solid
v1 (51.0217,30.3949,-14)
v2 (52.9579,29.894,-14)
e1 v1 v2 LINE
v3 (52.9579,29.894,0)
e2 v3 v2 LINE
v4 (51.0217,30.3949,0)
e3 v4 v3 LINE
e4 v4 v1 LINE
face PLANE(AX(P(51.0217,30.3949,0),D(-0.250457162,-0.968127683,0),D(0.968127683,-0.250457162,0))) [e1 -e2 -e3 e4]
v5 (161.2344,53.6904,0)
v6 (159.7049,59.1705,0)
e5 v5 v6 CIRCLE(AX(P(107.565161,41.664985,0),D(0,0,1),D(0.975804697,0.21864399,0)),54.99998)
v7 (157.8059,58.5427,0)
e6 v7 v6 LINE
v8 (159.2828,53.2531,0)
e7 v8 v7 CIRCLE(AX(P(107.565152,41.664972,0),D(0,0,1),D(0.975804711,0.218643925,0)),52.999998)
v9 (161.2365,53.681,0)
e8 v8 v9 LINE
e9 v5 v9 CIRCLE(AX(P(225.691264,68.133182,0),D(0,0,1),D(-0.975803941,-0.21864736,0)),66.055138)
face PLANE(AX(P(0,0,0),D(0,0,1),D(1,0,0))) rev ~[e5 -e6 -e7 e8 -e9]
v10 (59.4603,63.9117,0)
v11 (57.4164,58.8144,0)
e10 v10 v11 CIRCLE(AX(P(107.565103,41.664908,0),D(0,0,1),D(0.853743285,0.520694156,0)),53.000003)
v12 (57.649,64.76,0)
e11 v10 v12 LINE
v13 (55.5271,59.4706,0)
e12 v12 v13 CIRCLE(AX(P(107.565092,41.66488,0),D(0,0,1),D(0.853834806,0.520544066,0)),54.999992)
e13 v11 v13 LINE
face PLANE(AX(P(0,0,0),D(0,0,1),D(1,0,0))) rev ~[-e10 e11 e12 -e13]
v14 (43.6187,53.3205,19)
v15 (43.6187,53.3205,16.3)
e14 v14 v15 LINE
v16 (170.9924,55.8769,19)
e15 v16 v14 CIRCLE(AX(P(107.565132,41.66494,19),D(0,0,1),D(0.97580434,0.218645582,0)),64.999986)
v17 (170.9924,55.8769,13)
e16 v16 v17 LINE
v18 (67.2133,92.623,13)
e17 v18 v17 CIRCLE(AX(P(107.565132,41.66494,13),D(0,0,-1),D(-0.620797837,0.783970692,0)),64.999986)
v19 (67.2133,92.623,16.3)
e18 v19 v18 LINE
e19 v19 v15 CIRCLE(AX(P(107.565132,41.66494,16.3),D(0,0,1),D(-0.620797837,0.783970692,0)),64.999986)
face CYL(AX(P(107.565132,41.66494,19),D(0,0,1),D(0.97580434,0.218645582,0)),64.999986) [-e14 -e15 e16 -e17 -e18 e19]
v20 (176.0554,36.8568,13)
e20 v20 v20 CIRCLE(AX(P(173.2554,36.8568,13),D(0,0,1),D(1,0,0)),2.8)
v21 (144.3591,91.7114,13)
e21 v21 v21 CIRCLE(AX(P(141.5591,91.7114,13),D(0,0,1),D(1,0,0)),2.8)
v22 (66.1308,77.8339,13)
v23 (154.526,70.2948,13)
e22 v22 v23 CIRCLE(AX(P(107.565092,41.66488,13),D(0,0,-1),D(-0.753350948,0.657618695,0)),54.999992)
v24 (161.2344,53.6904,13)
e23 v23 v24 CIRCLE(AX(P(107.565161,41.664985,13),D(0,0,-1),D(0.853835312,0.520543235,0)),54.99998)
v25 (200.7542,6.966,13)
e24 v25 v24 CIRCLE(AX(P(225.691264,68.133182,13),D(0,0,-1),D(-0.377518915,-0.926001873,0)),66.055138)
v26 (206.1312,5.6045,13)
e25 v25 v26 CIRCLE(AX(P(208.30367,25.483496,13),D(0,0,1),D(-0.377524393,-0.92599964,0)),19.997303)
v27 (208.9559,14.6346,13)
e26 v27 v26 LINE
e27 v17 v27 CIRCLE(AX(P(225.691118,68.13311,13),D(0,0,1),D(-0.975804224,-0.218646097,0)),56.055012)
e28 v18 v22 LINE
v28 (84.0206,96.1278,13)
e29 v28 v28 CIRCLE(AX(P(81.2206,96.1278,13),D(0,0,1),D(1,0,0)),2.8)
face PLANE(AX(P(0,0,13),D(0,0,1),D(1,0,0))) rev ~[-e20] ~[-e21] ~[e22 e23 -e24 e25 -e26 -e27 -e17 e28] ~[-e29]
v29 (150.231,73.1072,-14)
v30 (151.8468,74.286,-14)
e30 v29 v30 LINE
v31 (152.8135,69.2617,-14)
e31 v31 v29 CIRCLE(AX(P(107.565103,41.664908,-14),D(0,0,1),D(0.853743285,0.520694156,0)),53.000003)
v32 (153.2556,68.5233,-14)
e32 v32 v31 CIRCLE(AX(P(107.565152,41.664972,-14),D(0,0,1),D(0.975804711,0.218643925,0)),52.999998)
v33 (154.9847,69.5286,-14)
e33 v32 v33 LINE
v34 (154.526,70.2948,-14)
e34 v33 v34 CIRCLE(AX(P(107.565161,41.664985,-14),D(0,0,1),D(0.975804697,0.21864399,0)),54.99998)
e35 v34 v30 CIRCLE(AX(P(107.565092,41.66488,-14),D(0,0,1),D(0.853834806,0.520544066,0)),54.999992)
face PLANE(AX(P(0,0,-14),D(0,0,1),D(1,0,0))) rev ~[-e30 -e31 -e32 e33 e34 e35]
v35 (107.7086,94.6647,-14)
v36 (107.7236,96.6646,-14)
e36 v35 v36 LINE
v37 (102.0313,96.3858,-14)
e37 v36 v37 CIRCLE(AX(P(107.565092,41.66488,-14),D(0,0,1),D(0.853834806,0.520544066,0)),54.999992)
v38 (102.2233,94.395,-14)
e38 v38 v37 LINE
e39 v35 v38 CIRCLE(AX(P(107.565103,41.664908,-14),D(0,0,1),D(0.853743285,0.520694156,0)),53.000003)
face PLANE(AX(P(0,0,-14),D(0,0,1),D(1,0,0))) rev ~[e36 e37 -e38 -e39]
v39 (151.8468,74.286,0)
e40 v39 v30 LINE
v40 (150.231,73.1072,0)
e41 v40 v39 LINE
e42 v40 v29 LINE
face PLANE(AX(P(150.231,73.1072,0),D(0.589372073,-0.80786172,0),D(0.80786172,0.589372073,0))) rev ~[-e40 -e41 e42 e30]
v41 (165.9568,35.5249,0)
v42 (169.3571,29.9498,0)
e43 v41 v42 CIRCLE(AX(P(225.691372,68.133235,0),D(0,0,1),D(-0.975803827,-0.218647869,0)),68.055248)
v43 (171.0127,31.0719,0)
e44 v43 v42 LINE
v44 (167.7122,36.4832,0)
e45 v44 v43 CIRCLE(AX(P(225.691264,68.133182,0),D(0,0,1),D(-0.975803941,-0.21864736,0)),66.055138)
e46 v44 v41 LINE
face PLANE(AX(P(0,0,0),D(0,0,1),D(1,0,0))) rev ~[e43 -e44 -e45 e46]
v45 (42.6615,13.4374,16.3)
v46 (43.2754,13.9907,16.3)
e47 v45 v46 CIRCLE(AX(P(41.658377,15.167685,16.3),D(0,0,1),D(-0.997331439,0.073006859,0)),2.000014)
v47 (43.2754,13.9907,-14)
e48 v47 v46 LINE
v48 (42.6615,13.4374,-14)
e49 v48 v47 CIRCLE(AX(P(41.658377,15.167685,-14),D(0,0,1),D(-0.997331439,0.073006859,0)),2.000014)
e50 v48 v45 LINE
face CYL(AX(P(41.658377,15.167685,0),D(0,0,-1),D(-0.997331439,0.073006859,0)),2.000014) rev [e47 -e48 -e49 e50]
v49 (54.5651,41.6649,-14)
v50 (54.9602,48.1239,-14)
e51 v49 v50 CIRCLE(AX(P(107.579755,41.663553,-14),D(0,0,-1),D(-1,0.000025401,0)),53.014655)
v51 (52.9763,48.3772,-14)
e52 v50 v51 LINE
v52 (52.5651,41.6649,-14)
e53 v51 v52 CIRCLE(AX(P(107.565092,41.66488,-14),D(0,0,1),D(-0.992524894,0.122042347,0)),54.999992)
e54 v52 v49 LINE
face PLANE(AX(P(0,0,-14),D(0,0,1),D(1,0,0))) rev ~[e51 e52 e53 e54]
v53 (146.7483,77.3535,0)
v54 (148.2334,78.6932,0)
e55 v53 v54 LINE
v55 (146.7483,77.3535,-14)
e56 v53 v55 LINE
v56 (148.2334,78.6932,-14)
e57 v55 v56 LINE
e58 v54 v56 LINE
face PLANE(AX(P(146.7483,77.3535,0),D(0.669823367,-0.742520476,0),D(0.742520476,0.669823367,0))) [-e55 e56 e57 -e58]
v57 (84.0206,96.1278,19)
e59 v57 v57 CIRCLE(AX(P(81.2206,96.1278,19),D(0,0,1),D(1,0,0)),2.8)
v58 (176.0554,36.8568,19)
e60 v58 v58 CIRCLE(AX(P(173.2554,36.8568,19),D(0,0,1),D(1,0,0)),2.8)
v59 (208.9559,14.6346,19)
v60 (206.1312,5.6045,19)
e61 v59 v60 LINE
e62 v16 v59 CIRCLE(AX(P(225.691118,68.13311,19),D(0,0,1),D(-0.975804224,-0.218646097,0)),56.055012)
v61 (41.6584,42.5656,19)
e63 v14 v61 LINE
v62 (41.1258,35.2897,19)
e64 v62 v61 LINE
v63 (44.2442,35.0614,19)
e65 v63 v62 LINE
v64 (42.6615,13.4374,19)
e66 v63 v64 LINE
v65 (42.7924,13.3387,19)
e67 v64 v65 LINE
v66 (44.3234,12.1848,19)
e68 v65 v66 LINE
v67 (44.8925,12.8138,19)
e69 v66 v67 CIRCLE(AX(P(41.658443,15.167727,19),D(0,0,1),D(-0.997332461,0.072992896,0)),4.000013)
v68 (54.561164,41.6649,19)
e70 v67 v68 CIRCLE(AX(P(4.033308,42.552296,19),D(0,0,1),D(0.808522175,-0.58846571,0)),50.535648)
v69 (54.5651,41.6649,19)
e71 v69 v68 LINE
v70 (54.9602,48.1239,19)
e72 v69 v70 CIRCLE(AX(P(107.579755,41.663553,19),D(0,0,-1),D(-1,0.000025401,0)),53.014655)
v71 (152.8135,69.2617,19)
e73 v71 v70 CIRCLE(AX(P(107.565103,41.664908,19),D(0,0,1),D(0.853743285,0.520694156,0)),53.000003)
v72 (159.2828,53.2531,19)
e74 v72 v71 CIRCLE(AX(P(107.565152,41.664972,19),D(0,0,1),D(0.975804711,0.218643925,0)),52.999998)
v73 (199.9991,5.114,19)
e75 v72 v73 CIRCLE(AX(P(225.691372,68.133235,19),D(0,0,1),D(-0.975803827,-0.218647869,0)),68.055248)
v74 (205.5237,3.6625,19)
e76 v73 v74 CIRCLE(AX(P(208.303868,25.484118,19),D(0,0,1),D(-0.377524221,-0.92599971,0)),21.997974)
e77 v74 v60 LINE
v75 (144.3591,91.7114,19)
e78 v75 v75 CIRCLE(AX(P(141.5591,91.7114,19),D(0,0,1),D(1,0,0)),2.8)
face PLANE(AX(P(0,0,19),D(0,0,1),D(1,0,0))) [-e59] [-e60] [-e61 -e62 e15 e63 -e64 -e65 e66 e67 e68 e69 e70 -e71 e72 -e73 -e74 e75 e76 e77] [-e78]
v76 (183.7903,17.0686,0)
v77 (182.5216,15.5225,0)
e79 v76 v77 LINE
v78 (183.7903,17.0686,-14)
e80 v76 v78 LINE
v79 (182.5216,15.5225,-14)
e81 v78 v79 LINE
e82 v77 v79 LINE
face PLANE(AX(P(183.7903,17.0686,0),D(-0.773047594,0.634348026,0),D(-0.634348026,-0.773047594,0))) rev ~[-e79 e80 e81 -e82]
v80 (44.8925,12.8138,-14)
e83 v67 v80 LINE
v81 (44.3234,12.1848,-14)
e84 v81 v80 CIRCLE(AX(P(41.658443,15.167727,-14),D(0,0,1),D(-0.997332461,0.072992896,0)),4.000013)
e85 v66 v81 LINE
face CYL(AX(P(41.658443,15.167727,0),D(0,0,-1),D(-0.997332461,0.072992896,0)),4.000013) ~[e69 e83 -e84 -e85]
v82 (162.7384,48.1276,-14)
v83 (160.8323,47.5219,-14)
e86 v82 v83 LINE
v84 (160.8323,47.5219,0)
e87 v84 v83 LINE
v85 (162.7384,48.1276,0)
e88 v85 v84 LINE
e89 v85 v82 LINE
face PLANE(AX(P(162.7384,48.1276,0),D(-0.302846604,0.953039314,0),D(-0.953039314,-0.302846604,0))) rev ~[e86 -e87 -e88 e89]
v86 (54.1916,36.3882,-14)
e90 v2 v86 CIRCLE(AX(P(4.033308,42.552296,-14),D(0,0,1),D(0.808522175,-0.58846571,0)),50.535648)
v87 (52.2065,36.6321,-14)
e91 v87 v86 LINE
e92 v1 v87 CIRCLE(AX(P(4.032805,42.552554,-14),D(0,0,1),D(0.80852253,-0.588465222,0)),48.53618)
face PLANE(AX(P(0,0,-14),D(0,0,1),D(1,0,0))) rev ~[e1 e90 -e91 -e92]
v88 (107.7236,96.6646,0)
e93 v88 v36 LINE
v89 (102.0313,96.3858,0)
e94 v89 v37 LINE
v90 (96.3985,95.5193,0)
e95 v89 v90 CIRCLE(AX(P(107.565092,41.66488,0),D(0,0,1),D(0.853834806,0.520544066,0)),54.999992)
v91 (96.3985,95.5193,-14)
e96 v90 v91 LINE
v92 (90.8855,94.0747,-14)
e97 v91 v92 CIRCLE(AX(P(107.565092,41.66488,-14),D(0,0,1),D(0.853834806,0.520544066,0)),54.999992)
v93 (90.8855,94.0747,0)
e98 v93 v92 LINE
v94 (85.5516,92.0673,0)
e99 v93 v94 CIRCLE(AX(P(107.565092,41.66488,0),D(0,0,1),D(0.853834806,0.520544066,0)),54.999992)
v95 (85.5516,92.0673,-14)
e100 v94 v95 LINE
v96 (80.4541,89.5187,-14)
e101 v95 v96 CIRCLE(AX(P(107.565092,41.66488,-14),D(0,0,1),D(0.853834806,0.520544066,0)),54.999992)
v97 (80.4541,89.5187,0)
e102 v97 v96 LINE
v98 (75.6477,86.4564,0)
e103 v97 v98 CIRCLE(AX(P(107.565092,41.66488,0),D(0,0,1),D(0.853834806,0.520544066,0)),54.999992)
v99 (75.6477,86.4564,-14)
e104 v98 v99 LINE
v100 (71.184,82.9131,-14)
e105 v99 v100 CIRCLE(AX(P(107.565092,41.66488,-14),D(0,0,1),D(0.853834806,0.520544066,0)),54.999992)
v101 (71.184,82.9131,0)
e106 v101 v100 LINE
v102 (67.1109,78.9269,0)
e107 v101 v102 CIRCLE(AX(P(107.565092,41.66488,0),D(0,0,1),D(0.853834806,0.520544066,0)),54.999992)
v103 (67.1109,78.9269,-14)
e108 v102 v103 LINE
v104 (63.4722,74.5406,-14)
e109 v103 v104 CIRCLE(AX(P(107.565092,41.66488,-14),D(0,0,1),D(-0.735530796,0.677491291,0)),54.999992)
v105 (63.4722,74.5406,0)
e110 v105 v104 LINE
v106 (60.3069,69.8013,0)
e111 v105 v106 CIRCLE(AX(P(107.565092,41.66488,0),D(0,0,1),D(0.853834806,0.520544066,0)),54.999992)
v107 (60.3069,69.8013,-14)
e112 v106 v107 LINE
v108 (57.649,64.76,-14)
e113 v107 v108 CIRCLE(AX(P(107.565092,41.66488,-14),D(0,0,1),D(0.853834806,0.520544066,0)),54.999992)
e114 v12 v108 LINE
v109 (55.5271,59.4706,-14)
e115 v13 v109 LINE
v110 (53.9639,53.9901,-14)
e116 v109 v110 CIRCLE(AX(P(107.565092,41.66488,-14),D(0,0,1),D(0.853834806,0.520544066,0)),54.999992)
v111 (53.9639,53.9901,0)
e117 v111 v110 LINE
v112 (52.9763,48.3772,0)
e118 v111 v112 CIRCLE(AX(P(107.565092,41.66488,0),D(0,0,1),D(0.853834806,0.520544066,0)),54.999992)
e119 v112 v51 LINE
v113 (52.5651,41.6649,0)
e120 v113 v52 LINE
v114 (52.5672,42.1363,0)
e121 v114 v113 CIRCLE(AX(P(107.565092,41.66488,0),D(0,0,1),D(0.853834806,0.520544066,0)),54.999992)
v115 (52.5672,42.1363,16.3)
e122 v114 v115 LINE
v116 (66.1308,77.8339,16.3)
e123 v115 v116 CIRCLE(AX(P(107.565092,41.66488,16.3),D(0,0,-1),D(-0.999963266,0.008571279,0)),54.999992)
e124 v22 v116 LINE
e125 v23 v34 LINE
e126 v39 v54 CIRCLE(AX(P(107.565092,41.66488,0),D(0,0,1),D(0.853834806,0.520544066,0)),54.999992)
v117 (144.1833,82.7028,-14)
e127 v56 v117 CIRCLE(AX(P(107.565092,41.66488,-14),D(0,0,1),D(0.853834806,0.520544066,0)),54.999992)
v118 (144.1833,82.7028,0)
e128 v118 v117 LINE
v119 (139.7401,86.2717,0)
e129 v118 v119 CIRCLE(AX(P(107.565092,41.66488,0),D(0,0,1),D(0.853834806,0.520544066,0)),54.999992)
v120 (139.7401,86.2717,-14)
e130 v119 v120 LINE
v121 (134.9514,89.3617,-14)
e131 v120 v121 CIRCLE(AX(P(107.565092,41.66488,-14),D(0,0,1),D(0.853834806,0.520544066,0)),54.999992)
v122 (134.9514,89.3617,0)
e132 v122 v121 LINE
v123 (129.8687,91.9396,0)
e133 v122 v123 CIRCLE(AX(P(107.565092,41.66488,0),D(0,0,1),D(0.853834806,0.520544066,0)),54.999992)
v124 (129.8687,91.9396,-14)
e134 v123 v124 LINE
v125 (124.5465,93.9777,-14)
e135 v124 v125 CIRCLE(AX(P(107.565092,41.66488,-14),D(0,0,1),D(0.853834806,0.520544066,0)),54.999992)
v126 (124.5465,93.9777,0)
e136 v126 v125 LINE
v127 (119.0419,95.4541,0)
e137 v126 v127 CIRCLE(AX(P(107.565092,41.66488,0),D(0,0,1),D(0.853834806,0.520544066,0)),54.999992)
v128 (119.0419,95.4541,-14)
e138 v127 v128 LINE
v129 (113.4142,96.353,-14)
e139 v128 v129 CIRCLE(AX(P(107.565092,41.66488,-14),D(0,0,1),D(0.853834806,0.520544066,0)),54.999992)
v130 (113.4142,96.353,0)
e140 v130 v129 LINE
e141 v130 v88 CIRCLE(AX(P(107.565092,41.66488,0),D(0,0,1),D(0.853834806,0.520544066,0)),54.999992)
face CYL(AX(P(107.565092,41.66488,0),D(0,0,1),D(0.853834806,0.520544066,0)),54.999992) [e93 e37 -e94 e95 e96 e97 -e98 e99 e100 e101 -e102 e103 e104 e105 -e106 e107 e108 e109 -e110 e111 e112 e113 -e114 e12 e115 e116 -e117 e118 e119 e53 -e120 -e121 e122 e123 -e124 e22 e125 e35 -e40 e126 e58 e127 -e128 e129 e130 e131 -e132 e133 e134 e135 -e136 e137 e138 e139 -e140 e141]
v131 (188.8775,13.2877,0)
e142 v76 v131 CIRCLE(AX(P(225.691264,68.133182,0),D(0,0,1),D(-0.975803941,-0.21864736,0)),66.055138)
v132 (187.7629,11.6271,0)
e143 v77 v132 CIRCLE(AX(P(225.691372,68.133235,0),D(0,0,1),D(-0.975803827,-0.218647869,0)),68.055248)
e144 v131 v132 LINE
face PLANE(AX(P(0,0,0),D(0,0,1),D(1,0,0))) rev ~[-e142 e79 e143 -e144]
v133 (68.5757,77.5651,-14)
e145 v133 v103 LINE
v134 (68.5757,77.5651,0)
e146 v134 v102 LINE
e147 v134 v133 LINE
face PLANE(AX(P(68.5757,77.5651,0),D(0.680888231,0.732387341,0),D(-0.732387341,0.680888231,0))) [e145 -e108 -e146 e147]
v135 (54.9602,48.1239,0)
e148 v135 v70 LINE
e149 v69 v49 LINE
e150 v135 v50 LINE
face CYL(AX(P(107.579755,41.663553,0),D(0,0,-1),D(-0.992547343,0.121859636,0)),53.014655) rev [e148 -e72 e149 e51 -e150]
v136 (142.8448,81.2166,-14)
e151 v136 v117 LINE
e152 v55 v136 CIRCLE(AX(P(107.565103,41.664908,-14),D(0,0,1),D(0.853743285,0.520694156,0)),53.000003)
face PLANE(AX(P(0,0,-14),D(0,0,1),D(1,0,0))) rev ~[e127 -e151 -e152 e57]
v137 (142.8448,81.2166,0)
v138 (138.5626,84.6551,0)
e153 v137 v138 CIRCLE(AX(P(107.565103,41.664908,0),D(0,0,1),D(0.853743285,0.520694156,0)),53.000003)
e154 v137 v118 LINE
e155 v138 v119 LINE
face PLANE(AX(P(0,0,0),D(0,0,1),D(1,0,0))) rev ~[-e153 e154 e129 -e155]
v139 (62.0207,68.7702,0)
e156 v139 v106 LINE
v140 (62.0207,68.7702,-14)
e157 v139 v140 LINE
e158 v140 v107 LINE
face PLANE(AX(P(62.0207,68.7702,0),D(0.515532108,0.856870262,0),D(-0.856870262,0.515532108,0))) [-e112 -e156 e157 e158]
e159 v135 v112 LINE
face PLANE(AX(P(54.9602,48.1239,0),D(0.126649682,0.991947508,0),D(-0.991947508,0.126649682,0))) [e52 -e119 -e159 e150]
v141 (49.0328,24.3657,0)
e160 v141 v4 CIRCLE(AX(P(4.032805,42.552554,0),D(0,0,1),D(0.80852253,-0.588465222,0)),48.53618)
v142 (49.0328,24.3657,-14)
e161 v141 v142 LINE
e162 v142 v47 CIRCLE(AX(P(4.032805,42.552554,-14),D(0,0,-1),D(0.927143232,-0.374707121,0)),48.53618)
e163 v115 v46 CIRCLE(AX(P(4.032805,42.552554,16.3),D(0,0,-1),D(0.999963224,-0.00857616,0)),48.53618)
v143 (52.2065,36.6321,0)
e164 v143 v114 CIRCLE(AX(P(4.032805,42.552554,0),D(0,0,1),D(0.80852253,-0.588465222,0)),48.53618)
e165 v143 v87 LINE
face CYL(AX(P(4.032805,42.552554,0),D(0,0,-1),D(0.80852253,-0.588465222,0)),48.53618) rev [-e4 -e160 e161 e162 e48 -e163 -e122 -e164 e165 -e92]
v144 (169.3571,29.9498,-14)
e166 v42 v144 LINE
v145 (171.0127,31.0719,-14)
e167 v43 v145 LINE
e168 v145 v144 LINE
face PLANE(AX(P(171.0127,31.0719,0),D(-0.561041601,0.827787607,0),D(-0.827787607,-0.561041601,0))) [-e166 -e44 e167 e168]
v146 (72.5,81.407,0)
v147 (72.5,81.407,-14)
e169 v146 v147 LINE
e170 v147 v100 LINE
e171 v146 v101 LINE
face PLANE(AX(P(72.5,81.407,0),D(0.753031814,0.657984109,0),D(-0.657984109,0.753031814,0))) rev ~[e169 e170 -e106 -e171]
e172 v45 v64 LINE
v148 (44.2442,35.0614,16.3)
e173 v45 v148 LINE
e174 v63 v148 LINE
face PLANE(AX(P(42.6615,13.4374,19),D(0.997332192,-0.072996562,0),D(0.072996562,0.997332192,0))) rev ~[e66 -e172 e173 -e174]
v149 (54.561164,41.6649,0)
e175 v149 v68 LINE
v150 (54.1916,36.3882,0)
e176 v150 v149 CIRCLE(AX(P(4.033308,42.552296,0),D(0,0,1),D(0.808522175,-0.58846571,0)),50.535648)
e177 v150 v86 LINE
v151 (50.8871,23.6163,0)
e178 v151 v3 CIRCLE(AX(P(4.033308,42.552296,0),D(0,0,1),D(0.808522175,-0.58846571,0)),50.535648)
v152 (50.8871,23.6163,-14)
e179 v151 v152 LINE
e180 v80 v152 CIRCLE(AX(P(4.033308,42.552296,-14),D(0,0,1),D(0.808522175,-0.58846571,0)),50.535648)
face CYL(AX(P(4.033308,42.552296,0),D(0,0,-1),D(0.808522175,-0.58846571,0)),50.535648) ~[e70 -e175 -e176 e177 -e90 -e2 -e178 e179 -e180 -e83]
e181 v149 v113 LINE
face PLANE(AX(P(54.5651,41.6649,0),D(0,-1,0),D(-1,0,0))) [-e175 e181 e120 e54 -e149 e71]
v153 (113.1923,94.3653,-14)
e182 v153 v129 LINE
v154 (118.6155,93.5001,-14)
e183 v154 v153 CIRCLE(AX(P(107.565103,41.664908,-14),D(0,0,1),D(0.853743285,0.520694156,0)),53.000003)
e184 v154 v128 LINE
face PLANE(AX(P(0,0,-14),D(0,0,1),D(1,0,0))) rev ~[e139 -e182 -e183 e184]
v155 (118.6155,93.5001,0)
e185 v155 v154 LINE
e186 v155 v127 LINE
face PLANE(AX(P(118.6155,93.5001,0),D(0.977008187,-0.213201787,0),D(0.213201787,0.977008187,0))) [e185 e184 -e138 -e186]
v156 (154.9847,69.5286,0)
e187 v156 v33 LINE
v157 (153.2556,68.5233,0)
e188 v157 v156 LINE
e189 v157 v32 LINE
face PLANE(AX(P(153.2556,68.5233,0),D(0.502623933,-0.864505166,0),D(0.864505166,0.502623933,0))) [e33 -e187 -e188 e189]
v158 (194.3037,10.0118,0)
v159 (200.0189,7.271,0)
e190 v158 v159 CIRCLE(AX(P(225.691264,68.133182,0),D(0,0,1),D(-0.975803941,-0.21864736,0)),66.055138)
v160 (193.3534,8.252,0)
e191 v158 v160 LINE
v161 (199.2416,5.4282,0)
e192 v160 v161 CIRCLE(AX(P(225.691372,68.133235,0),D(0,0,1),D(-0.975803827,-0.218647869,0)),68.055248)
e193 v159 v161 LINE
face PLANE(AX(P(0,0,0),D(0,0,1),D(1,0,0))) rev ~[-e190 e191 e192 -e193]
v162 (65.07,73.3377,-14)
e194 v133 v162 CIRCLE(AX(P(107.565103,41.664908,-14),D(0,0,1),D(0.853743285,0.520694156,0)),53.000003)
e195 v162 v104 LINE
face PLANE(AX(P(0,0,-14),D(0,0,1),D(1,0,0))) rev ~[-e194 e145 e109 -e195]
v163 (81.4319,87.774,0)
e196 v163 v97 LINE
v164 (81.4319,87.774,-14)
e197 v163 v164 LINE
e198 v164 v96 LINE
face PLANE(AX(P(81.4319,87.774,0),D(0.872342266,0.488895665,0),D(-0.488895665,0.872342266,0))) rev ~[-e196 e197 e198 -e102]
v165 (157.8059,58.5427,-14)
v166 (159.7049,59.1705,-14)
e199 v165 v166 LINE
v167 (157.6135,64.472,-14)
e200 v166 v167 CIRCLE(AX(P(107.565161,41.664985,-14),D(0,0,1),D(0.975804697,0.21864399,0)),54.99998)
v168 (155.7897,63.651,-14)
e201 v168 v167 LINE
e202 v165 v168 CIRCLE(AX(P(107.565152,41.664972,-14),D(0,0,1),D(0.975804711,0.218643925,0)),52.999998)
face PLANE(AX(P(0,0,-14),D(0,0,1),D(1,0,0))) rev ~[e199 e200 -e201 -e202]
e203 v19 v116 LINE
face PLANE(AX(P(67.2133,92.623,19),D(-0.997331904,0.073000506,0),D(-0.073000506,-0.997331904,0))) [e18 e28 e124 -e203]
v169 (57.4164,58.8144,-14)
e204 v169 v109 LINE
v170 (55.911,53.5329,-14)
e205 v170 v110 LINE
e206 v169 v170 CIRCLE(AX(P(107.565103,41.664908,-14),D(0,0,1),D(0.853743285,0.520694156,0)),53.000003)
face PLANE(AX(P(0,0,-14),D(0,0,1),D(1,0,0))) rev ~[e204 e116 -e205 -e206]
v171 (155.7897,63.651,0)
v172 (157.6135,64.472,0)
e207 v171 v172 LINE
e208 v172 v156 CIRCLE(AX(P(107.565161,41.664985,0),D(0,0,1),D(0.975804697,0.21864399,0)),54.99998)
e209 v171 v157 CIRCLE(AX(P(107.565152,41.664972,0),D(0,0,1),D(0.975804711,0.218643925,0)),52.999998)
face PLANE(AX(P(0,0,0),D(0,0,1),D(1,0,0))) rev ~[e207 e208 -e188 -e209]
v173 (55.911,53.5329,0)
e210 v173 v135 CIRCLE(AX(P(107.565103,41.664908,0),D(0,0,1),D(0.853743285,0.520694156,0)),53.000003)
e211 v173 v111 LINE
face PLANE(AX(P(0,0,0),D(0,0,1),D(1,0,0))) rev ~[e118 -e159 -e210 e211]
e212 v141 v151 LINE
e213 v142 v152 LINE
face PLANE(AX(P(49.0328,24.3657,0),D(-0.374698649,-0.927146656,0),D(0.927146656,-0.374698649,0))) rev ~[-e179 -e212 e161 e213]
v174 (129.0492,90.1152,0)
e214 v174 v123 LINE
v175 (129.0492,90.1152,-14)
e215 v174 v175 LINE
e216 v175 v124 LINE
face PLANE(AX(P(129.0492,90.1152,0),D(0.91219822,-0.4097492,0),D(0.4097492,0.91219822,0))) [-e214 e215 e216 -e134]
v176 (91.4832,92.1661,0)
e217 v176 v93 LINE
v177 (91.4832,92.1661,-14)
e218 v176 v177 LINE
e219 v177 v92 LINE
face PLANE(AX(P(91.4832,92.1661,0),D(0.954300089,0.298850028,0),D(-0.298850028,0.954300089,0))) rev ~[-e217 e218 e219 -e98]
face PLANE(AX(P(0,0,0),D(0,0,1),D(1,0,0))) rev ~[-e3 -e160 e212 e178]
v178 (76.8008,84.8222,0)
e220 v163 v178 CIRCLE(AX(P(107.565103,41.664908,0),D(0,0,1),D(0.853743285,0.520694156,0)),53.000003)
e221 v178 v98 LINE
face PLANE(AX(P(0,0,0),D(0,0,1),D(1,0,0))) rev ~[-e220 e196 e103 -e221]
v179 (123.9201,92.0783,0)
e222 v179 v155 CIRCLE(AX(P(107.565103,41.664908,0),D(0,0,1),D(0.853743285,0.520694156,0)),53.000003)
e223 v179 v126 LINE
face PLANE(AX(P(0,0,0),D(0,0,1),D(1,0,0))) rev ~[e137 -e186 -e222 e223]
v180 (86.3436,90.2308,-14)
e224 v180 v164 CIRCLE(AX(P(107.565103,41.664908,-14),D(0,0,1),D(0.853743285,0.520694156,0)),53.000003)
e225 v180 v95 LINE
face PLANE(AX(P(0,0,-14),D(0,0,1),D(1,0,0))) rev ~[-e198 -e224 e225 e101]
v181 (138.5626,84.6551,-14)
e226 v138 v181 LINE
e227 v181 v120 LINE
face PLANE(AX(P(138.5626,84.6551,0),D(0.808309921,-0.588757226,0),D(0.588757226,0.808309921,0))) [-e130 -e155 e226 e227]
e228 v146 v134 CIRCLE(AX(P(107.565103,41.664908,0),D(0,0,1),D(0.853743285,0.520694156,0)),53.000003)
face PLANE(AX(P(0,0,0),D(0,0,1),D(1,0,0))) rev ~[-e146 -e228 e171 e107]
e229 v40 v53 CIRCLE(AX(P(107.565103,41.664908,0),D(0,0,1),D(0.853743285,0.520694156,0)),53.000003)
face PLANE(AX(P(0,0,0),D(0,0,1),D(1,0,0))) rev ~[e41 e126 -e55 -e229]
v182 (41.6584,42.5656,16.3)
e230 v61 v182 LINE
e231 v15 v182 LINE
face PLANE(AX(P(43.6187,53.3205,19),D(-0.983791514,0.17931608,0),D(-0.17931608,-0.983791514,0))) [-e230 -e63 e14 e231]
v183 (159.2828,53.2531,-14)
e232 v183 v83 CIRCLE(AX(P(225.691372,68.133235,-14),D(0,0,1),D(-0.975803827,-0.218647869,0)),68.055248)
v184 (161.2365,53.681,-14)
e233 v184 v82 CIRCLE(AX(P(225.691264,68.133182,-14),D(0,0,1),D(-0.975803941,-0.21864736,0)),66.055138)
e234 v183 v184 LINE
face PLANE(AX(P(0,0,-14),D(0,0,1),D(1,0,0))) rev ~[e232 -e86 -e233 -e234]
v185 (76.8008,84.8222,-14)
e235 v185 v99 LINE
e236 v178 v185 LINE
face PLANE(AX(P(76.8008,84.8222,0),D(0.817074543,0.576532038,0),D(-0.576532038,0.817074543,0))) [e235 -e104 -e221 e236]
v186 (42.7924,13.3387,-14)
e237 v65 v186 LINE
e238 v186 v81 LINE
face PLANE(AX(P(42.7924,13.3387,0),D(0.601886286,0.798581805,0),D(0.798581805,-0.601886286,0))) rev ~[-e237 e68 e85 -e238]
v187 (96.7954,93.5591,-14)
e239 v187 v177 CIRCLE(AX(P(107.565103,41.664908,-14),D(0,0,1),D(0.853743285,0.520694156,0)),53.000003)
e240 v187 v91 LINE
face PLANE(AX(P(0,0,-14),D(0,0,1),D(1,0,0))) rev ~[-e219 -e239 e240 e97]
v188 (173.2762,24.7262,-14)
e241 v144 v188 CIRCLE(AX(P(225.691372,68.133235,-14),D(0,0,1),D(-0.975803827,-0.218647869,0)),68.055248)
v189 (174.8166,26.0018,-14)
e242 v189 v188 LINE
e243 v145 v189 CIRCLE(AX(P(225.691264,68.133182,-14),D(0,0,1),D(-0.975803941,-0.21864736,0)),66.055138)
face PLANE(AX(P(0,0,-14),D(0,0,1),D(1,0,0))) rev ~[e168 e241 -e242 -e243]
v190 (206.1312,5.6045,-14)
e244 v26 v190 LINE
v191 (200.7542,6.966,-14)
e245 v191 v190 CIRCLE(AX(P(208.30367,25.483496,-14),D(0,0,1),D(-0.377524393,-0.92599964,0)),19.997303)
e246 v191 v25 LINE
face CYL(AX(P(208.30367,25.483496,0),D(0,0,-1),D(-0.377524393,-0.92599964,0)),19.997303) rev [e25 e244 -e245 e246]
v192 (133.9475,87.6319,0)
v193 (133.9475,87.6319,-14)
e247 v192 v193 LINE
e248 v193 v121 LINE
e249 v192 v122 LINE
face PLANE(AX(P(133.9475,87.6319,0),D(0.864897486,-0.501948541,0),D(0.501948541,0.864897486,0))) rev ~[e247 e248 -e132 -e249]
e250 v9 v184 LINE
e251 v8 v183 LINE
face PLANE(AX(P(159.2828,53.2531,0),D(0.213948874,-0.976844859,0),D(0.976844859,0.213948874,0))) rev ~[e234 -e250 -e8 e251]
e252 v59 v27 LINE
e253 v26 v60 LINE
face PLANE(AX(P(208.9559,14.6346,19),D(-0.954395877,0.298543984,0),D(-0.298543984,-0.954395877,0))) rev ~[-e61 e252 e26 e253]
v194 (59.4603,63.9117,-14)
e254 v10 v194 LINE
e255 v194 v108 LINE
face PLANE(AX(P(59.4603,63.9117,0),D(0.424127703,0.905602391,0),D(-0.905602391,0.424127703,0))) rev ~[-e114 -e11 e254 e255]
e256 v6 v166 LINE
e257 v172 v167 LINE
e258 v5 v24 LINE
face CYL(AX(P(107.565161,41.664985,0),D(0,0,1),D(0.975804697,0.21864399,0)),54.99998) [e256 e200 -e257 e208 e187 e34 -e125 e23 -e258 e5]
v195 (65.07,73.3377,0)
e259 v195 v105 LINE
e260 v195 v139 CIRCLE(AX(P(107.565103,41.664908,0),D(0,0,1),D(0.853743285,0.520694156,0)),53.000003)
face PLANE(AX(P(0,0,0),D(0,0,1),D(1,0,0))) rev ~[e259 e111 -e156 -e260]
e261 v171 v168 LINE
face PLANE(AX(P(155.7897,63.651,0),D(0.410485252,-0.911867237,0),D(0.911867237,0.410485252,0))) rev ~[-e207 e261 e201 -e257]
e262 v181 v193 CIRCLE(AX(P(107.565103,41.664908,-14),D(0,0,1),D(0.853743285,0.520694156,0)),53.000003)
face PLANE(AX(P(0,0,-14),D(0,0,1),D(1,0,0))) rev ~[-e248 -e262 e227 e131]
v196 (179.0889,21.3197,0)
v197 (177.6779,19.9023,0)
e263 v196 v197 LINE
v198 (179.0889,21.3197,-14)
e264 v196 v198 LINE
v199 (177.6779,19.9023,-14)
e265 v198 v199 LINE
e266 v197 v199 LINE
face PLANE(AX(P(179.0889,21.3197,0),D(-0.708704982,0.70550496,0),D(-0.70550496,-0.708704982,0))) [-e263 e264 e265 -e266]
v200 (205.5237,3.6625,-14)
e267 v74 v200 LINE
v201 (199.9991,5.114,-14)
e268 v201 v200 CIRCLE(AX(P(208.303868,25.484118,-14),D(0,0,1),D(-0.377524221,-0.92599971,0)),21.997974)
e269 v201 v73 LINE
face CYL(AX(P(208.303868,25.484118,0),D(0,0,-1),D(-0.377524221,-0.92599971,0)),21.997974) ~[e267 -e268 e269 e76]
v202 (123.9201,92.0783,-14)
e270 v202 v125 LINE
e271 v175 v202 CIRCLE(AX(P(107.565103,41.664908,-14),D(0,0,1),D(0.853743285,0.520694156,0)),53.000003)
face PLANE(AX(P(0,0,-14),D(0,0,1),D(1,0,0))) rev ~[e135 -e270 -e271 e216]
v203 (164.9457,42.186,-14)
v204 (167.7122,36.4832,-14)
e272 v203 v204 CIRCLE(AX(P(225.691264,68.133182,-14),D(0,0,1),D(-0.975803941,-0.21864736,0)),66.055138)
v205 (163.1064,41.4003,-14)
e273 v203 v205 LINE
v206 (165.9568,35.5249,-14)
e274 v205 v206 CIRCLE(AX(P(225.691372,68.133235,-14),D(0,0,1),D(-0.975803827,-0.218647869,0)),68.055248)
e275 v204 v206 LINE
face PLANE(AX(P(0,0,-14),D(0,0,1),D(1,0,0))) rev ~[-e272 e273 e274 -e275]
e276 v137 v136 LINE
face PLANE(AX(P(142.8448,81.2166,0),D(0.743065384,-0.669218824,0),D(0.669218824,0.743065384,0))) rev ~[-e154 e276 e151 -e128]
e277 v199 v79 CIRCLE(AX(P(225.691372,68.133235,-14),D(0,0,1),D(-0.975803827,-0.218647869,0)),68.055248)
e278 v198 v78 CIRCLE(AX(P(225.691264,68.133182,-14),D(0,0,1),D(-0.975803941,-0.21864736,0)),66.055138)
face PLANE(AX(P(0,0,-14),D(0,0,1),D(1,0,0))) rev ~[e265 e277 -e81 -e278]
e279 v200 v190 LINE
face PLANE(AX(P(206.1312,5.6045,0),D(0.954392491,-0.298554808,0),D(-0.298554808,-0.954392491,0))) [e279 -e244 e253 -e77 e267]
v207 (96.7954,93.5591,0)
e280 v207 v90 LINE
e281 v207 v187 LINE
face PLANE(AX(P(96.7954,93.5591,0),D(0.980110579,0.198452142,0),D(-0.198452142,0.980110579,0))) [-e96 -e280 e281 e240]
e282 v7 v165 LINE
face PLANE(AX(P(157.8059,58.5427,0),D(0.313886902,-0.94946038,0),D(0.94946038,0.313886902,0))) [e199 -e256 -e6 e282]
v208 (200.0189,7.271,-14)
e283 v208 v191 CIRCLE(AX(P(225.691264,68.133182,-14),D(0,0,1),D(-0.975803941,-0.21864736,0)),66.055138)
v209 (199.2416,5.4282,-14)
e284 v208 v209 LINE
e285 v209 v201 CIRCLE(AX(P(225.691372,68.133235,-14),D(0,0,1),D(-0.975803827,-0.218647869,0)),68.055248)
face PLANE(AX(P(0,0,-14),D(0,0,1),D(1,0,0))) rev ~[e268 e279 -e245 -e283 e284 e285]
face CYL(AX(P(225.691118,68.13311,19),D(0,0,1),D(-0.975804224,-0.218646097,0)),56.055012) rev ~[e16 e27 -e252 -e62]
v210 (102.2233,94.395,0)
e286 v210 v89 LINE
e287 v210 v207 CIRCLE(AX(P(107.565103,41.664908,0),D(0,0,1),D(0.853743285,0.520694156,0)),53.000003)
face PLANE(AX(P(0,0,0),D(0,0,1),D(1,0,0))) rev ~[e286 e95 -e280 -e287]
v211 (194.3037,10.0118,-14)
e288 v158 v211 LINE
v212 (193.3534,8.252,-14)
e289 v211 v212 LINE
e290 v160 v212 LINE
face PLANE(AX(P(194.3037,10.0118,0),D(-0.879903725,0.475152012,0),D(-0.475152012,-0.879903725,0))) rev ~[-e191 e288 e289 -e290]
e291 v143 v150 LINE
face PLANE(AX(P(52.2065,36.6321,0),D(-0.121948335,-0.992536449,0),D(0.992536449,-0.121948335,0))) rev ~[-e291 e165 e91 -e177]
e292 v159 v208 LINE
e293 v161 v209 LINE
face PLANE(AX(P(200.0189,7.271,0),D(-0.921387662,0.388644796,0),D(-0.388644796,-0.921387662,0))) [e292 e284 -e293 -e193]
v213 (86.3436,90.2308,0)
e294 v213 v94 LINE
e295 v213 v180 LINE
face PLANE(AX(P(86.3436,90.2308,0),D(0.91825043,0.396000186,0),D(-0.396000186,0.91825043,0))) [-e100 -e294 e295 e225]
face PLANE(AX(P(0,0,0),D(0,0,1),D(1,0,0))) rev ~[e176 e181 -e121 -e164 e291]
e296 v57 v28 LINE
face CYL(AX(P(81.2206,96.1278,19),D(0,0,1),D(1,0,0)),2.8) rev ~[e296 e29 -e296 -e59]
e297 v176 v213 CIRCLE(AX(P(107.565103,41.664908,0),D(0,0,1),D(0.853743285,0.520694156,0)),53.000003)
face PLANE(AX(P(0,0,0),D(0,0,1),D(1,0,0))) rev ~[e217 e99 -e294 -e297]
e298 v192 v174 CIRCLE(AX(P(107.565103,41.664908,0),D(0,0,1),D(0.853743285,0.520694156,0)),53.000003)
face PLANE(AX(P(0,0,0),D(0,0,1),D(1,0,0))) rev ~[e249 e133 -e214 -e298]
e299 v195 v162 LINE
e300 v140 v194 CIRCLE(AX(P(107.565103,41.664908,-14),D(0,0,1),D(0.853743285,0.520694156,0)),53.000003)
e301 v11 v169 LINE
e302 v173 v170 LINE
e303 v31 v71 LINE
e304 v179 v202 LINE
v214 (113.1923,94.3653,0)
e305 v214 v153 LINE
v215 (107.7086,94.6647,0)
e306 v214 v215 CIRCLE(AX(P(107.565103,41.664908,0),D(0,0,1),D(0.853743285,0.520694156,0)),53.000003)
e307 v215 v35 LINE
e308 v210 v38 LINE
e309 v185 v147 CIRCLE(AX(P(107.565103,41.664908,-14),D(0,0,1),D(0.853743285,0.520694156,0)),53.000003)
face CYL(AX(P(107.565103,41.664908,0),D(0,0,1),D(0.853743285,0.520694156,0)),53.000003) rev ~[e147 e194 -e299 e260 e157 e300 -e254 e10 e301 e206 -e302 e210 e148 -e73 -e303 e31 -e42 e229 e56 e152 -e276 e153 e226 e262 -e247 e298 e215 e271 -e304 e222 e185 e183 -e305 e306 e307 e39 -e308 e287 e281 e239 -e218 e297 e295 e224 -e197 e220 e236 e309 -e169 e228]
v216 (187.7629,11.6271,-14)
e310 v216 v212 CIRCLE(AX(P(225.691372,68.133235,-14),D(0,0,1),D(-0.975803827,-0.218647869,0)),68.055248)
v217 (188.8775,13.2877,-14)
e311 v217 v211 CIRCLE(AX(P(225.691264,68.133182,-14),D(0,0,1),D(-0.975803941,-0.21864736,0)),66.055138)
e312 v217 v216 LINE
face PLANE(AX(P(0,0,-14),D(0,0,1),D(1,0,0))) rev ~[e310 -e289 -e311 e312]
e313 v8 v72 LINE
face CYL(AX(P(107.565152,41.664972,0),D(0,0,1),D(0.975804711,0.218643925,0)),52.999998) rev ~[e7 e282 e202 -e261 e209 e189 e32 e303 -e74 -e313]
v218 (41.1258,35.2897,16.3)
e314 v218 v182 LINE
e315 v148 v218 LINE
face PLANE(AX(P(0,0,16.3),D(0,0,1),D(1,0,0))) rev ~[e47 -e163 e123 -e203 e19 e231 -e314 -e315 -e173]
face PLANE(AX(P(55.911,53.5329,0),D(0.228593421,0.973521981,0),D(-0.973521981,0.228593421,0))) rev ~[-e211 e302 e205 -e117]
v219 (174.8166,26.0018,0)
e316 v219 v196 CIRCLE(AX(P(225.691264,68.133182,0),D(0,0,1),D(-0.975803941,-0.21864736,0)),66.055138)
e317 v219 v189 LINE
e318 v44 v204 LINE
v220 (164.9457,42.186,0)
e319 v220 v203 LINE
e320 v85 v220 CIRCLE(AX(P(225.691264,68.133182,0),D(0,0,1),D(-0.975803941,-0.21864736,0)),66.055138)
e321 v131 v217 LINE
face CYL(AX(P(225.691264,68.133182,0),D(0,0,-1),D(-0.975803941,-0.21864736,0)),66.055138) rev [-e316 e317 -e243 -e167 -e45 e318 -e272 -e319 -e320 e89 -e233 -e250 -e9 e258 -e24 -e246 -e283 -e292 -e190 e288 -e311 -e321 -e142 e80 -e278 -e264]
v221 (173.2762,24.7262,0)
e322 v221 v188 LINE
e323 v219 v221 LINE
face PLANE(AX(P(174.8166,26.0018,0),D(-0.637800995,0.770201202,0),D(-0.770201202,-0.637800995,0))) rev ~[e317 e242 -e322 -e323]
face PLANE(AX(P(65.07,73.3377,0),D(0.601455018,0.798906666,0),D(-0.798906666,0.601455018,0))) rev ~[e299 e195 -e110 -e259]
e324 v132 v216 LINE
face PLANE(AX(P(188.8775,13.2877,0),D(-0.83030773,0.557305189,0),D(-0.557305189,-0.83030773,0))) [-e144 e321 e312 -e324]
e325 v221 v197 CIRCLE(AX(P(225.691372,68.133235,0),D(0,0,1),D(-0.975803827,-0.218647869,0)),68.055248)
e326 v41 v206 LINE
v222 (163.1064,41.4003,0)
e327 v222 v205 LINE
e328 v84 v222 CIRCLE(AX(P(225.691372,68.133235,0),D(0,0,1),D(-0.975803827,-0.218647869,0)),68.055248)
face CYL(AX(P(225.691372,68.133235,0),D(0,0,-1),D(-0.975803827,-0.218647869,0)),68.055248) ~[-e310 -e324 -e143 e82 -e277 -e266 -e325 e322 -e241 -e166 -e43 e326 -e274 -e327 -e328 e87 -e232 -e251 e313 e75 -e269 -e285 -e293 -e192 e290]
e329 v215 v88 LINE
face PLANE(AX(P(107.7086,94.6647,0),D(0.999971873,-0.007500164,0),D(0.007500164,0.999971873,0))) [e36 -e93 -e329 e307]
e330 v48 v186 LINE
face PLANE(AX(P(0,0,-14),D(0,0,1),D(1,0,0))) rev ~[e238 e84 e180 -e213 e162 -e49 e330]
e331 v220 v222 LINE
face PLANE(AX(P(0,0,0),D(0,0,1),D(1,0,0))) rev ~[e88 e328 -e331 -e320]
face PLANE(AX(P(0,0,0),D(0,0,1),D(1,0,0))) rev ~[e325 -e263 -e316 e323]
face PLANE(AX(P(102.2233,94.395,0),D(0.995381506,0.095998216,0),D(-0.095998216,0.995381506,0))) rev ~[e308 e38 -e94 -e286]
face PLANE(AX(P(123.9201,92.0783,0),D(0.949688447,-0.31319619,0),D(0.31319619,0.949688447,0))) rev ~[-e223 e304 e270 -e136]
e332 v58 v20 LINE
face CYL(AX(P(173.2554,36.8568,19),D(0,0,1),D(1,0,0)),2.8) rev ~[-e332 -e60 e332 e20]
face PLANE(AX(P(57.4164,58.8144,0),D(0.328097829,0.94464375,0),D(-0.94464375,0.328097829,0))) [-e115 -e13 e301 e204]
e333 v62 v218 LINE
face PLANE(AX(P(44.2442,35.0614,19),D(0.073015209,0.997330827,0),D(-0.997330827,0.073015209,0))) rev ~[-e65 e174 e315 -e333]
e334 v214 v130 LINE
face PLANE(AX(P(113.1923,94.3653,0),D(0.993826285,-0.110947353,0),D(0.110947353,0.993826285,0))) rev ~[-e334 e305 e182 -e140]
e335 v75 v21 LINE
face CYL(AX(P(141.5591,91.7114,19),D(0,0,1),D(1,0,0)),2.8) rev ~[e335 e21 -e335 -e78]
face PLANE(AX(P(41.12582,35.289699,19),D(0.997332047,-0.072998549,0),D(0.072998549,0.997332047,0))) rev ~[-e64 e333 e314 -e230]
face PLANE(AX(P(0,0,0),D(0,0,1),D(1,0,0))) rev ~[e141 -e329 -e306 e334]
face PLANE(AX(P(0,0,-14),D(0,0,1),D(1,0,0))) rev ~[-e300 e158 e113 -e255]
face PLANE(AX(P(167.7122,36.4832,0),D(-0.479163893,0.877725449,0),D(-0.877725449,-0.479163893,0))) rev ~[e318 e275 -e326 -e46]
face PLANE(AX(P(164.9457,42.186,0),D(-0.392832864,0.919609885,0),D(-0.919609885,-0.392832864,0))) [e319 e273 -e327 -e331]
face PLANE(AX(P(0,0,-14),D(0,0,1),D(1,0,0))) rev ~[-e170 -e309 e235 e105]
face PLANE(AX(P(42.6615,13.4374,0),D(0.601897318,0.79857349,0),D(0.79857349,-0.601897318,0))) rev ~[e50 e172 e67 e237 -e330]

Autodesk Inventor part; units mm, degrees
ref_plane "YZ Plane" through (0, 0, 0) normal (1, 0, 0) x (0, 1, 0)
sketch "Sketch1" plane through (0, 0, 0) normal (0, 0, 1) x (1, 0, 0)
  arc A0 (154.526, 70.2948) -> (52.5651, 41.6649) centre (107.5651, 41.6649) ccw
  line L0 (54.9684, 41.6649) -> (150.0445, 41.6649) construction
  line L1 (107.5651, 41.6649) -> (52.5651, 41.6649) construction
  line L2 (107.5651, 41.6649) -> (54.9602, 48.1239) construction
  line L3 (107.5651, 41.6649) -> (155.1965, 69.1649) construction
  arc A1 (54.9602, 48.1239) -> (54.5651, 41.6649) centre (107.5651, 41.6649) ccw
  line L4 (54.9602, 48.1239) -> (52.9763, 48.3772)
  line L5 (54.5651, 41.6649) -> (52.5651, 41.6649)
  arc A2 (152.8135, 69.2617) -> (54.5651, 41.6649) centre (107.5651, 41.6649) ccw
  arc A3 (170.9924, 55.8769) -> (43.6187, 53.3205) centre (107.5651, 41.6649) ccw
  line L6 (152.8135, 69.2617) -> (163.0885, 75.4607)
  circle A4 centre (81.2206, 96.1278) radius 2.8
  circle A5 centre (141.5591, 91.7114) radius 2.8
  arc A6 (161.2344, 53.6904) -> (52.5672, 42.1363) centre (107.5651, 41.6649) ccw
  line L7 (81.7174, 303.5602) -> (65.1074, 76.6268)
  line L8 (67.2133, 92.623) -> (66.1308, 77.8339)
  arc A7 (43.2754, 13.9907) -> (52.5672, 42.1363) centre (4.0333, 42.5523) ccw
  arc A8 (161.2344, 53.6904) -> (200.7542, 6.966) centre (225.6911, 68.1331) ccw
  line L9 (39.6637, 15.3137) -> (60.8975, 305.4174)
  arc A9 (39.6637, 15.3137) -> (43.2754, 13.9907) centre (41.6584, 15.1677) ccw
  arc A10 (200.7542, 6.966) -> (206.8445, 5.5395) centre (208.3045, 25.4861) ccw
  line L10 (209.3894, 5.3532) -> (206.8445, 5.5395)
  line L11 (230.4439, 293.0077) -> (209.3894, 5.3532)
  line L12 (232.4386, 292.8617) -> (211.2381, 3.2125)
  line L13 (211.2381, 3.2125) -> (206.6985, 3.5448)
  arc A11 (199.9991, 5.114) -> (206.6985, 3.5448) centre (208.3045, 25.4861) ccw
  arc A12 (159.2828, 53.2531) -> (199.9991, 5.114) centre (225.6911, 68.1331) ccw
  arc A13 (54.5651, 41.6649) -> (159.2828, 53.2531) centre (107.5651, 41.6649) ccw construction
  arc A14 (44.8925, 12.8138) -> (54.5671, 42.1192) centre (4.0333, 42.5523) ccw
  arc A15 (37.6691, 15.4597) -> (44.8925, 12.8138) centre (41.6584, 15.1677) ccw
  line L14 (37.6691, 15.4597) -> (58.9028, 305.5634)
  line L15 (43.6187, 53.3205) -> (41.6584, 42.5656)
  line L16 (4.0333, 42.5523) -> (54.5651, 41.6649) construction
  line L17 (4.0333, 42.5523) -> (52.2065, 36.6321) construction
  line L18 (4.0333, 42.5523) -> (54.5689, 42.5523) construction
  line L19 (52.2065, 36.6321) -> (54.1916, 36.3882)
  line L20 (51.0217, 30.3949) -> (52.9579, 29.894)
  line L21 (49.0328, 24.3657) -> (50.8871, 23.6163)
  line L22 (46.274, 18.6477) -> (48.0146, 17.6627)
  line L23 (42.7924, 13.3387) -> (44.3896, 12.1349)
  line L24 (42.6615, 13.4374) -> (44.3234, 12.1848) construction
  line L25 (42.6615, 13.4374) -> (44.3234, 12.1848)
  line L26 (39.1312, 35.4357) -> (41.1258, 35.2897)
  line L27 (41.1258, 35.2897) -> (40.1285, 21.6637)
  line L28 (40.1285, 21.6637) -> (43.2469, 21.4355)
  line L29 (42.6615, 13.4374) -> (44.2442, 35.0614)
  line L30 (44.2442, 35.0614) -> (41.1258, 35.2897)
  line L31 (107.5651, 41.6649) -> (159.2828, 53.2531) construction
  line L32 (55.911, 53.5329) -> (53.9639, 53.9901)
  line L33 (57.4164, 58.8144) -> (55.5271, 59.4706)
  line L34 (59.4603, 63.9117) -> (57.649, 64.76)
  line L35 (62.0207, 68.7702) -> (60.3069, 69.8013)
  line L36 (65.07, 73.3377) -> (63.4722, 74.5406)
  line L37 (68.5757, 77.5651) -> (67.1109, 78.9269)
  line L38 (72.5, 81.407) -> (71.184, 82.9131)
  line L39 (76.8008, 84.8222) -> (75.6477, 86.4564)
  line L40 (81.4319, 87.774) -> (80.4541, 89.5187)
  line L41 (86.3436, 90.2308) -> (85.5516, 92.0673)
  line L42 (91.4832, 92.1661) -> (90.8855, 94.0747)
  line L43 (96.7954, 93.5591) -> (96.3985, 95.5193)
  line L44 (102.2233, 94.395) -> (102.0313, 96.3858)
  line L45 (107.7086, 94.6647) -> (107.7236, 96.6646)
  line L46 (113.1923, 94.3653) -> (113.4142, 96.353)
  line L47 (118.6155, 93.5001) -> (119.0419, 95.4541)
  line L48 (123.9201, 92.0783) -> (124.5465, 93.9777)
  line L49 (129.0492, 90.1152) -> (129.8687, 91.9396)
  line L50 (133.9475, 87.6319) -> (134.9514, 89.3617)
  line L51 (138.5626, 84.6551) -> (139.7401, 86.2717)
  line L52 (142.8448, 81.2166) -> (144.1833, 82.7028)
  line L53 (146.7483, 77.3535) -> (148.2334, 78.6932)
  line L54 (150.231, 73.1072) -> (151.8468, 74.286)
  line L55 (153.2556, 68.5233) -> (154.9847, 69.5286)
  line L56 (155.7897, 63.651) -> (157.6135, 64.472)
  line L57 (157.8059, 58.5427) -> (159.7049, 59.1705)
  line L58 (159.2828, 53.2531) -> (161.2365, 53.681)
  arc A16 (159.2828, 53.2531) -> (54.5671, 42.1192) centre (107.5651, 41.6649) ccw
  arc A17 (170.9924, 55.8769) -> (212.0111, 13.773) centre (225.6911, 68.1331) ccw
  arc A18 (220.0721, 123.9057) -> (218.0491, 123.6647) centre (225.6911, 68.1331) ccw
  line L59 (225.6911, 68.1331) -> (159.2828, 53.2531) construction
  line L60 (225.6911, 68.1331) -> (162.7384, 48.1276) construction
  line L61 (162.7384, 48.1276) -> (160.8323, 47.5219)
  line L62 (225.6911, 68.1331) -> (208.9559, 14.6346) construction
  line L63 (206.1312, 5.6045) -> (205.5237, 3.6625)
  line L64 (208.9559, 14.6346) -> (206.1312, 5.6045)
  line L65 (164.9457, 42.186) -> (163.1064, 41.4003)
  line L66 (167.7122, 36.4832) -> (165.9568, 35.5249)
  line L67 (171.0127, 31.0719) -> (169.3571, 29.9498)
  line L68 (174.8166, 26.0018) -> (173.2762, 24.7262)
  line L69 (179.0889, 21.3197) -> (177.6779, 19.9023)
  line L70 (183.7903, 17.0686) -> (182.5216, 15.5225)
  line L71 (188.8775, 13.2877) -> (187.7629, 11.6271)
  line L72 (194.3037, 10.0118) -> (193.3534, 8.252)
  line L73 (200.0189, 7.271) -> (199.2416, 5.4282)
  line L74 (205.9704, 5.0906) -> (205.3734, 3.1818)
  line L75 (107.5651, 41.6649) -> (81.2206, 96.1278) construction
  line L76 (107.5651, 41.6649) -> (141.5591, 91.7114) construction
  line L77 (107.5651, 41.6649) -> (194.2194, 35.3223) construction
  circle A19 centre (173.2554, 36.8568) radius 2.8
  point P0 (0, 0)
  point P1 (54.9602, 48.1239)
  point P2 (154.526, 70.2948)
  point P3 (66.2194, 91.8199)
  point P4 (66.1308, 77.8339)
  point P5 (54.5611, 41.6649)
  point P6 (52.5672, 42.1363)
  point P7 (54.5671, 42.1192)
  point P8 (154.526, 70.2948)
  point P9 (152.8135, 69.2617)
  point P10 (152.8135, 69.2617)
  point P11 (154.526, 70.2948)
  point P12 (210.0447, 14.3061)
  point P13 (159.2828, 53.2531)
  dimension "d0" = 55
  dimension "d3" = 0
  dimension "d5" = 2
  dimension "d10" = 7
  dimension "d15" = 5.6
  dimension "d16" = 5.6
  dimension "d19" = 65
  dimension "d21" = 2
  dimension "d22" = 50.5357
  dimension "d24" = 6
  dimension "d27" = 30
  dimension "d35" = 160.37
  dimension "d38" = 160.37
  dimension "d40" = 68.055
  dimension "d42" = 5
  dimension "d44" = 55
  dimension "d51" = 55
  dimension "d53" = 60
  dimension "d54" = 60
  dimension "d55" = 5.6
  dimension "d56" = 2.2
extrude "Extrusion1" add sketch "Sketch1" against normal blind 14 contours L6 A2 L54 A0 | A6 L55 A16 L6 | L53 A2 L52 A0 | A6 L57 A16 L56 | A0 L37 A2 L36 | L51 A2 L50 A0 | L63 A11 A12 L73 A8 A10 | L58 A8 L61 A12 | A0 L39 A2 L38 | L49 A2 L48 A0 | L35 A2 L34 A0 | L65 A8 L66 A12 | L72 A12 L71 A8 | A0 L41 A2 L40 | L47 A2 L46 A0 | L33 A2 L32 A0 | L67 A8 L68 A12 | L70 A12 L69 A8 | A9 A7 L22 A14 A15 L23 L25 | A0 L43 A2 L42 | L45 A2 L44 A0 | L4 A1 A14 L5 A0 | A7 L21 A14 L22 | L19 A14 L20 A7 | A1 L5 A14
extrude "Extrusion2" add sketch "Sketch1" along normal blind 19 contours L6 A2 L54 A0 | A6 L55 A16 L6 | L54 A2 L53 A0 | A6 L56 A16 L55 | L53 A2 L52 A0 | A6 L57 A16 L56 | L52 A2 L51 A0 | A0 L37 A2 L36 | A6 A8 L58 A16 L57 | L51 A2 L50 A0 | L63 A11 A12 L73 A8 A10 | A0 L38 A2 L37 | L50 A2 L49 A0 | L58 A8 L61 A12 | L36 A2 L35 A0 | A0 L39 A2 L38 | L49 A2 L48 A0 | L61 A8 L65 A12 | L73 A12 L72 A8 | L35 A2 L34 A0 | A0 L40 A2 L39 | L48 A2 L47 A0 | L65 A8 L66 A12 | L72 A12 L71 A8 | L34 A2 L33 A0 | A0 L41 A2 L40 | L47 A2 L46 A0 | L66 A8 L67 A12 | L71 A12 L70 A8 | L33 A2 L32 A0 | A0 L42 A2 L41 | L46 A2 L45 A0 | L67 A8 L68 A12 | L70 A12 L69 A8 | A9 A7 L22 A14 A15 L23 L25 | L32 A2 L4 A0 | A0 L43 A2 L42 | L45 A2 L44 A0 | L68 A8 L69 A12 | L4 A1 A14 L5 A0 | A0 L44 A2 L43 | A7 L21 A14 L22 | A0 L5 A14 L19 A7 | A7 L20 A14 L21 | L19 A14 L20 A7 | A1 L5 A14
ref_plane "Work Plane1" through (39.3025, 55.1816, 16.3) normal (0, 0, 1) x (0.9973, -0.073, 0)
ref_plane "Work Plane2" through (39.5177, 0.9093, 13) normal (0, 0, 1) x (0.9973, -0.073, 0)
extrude "Extrusion3" add sketch "Sketch1" against normal up to surface (6 mm away) from surface at 19 contours A0 L8 A3 L6 | L6 A3 A17 L64 A10 A8 A6
extrude "Extrusion5" add sketch "Sketch1" against normal blind 2.7 from surface at 19 contours L8 A0 L7 A3 | L7 A0 A7 A9 L29 L30 L9 L15 A3
equation "\"d38\" = d35"
properties part number "Intake Mustache"
